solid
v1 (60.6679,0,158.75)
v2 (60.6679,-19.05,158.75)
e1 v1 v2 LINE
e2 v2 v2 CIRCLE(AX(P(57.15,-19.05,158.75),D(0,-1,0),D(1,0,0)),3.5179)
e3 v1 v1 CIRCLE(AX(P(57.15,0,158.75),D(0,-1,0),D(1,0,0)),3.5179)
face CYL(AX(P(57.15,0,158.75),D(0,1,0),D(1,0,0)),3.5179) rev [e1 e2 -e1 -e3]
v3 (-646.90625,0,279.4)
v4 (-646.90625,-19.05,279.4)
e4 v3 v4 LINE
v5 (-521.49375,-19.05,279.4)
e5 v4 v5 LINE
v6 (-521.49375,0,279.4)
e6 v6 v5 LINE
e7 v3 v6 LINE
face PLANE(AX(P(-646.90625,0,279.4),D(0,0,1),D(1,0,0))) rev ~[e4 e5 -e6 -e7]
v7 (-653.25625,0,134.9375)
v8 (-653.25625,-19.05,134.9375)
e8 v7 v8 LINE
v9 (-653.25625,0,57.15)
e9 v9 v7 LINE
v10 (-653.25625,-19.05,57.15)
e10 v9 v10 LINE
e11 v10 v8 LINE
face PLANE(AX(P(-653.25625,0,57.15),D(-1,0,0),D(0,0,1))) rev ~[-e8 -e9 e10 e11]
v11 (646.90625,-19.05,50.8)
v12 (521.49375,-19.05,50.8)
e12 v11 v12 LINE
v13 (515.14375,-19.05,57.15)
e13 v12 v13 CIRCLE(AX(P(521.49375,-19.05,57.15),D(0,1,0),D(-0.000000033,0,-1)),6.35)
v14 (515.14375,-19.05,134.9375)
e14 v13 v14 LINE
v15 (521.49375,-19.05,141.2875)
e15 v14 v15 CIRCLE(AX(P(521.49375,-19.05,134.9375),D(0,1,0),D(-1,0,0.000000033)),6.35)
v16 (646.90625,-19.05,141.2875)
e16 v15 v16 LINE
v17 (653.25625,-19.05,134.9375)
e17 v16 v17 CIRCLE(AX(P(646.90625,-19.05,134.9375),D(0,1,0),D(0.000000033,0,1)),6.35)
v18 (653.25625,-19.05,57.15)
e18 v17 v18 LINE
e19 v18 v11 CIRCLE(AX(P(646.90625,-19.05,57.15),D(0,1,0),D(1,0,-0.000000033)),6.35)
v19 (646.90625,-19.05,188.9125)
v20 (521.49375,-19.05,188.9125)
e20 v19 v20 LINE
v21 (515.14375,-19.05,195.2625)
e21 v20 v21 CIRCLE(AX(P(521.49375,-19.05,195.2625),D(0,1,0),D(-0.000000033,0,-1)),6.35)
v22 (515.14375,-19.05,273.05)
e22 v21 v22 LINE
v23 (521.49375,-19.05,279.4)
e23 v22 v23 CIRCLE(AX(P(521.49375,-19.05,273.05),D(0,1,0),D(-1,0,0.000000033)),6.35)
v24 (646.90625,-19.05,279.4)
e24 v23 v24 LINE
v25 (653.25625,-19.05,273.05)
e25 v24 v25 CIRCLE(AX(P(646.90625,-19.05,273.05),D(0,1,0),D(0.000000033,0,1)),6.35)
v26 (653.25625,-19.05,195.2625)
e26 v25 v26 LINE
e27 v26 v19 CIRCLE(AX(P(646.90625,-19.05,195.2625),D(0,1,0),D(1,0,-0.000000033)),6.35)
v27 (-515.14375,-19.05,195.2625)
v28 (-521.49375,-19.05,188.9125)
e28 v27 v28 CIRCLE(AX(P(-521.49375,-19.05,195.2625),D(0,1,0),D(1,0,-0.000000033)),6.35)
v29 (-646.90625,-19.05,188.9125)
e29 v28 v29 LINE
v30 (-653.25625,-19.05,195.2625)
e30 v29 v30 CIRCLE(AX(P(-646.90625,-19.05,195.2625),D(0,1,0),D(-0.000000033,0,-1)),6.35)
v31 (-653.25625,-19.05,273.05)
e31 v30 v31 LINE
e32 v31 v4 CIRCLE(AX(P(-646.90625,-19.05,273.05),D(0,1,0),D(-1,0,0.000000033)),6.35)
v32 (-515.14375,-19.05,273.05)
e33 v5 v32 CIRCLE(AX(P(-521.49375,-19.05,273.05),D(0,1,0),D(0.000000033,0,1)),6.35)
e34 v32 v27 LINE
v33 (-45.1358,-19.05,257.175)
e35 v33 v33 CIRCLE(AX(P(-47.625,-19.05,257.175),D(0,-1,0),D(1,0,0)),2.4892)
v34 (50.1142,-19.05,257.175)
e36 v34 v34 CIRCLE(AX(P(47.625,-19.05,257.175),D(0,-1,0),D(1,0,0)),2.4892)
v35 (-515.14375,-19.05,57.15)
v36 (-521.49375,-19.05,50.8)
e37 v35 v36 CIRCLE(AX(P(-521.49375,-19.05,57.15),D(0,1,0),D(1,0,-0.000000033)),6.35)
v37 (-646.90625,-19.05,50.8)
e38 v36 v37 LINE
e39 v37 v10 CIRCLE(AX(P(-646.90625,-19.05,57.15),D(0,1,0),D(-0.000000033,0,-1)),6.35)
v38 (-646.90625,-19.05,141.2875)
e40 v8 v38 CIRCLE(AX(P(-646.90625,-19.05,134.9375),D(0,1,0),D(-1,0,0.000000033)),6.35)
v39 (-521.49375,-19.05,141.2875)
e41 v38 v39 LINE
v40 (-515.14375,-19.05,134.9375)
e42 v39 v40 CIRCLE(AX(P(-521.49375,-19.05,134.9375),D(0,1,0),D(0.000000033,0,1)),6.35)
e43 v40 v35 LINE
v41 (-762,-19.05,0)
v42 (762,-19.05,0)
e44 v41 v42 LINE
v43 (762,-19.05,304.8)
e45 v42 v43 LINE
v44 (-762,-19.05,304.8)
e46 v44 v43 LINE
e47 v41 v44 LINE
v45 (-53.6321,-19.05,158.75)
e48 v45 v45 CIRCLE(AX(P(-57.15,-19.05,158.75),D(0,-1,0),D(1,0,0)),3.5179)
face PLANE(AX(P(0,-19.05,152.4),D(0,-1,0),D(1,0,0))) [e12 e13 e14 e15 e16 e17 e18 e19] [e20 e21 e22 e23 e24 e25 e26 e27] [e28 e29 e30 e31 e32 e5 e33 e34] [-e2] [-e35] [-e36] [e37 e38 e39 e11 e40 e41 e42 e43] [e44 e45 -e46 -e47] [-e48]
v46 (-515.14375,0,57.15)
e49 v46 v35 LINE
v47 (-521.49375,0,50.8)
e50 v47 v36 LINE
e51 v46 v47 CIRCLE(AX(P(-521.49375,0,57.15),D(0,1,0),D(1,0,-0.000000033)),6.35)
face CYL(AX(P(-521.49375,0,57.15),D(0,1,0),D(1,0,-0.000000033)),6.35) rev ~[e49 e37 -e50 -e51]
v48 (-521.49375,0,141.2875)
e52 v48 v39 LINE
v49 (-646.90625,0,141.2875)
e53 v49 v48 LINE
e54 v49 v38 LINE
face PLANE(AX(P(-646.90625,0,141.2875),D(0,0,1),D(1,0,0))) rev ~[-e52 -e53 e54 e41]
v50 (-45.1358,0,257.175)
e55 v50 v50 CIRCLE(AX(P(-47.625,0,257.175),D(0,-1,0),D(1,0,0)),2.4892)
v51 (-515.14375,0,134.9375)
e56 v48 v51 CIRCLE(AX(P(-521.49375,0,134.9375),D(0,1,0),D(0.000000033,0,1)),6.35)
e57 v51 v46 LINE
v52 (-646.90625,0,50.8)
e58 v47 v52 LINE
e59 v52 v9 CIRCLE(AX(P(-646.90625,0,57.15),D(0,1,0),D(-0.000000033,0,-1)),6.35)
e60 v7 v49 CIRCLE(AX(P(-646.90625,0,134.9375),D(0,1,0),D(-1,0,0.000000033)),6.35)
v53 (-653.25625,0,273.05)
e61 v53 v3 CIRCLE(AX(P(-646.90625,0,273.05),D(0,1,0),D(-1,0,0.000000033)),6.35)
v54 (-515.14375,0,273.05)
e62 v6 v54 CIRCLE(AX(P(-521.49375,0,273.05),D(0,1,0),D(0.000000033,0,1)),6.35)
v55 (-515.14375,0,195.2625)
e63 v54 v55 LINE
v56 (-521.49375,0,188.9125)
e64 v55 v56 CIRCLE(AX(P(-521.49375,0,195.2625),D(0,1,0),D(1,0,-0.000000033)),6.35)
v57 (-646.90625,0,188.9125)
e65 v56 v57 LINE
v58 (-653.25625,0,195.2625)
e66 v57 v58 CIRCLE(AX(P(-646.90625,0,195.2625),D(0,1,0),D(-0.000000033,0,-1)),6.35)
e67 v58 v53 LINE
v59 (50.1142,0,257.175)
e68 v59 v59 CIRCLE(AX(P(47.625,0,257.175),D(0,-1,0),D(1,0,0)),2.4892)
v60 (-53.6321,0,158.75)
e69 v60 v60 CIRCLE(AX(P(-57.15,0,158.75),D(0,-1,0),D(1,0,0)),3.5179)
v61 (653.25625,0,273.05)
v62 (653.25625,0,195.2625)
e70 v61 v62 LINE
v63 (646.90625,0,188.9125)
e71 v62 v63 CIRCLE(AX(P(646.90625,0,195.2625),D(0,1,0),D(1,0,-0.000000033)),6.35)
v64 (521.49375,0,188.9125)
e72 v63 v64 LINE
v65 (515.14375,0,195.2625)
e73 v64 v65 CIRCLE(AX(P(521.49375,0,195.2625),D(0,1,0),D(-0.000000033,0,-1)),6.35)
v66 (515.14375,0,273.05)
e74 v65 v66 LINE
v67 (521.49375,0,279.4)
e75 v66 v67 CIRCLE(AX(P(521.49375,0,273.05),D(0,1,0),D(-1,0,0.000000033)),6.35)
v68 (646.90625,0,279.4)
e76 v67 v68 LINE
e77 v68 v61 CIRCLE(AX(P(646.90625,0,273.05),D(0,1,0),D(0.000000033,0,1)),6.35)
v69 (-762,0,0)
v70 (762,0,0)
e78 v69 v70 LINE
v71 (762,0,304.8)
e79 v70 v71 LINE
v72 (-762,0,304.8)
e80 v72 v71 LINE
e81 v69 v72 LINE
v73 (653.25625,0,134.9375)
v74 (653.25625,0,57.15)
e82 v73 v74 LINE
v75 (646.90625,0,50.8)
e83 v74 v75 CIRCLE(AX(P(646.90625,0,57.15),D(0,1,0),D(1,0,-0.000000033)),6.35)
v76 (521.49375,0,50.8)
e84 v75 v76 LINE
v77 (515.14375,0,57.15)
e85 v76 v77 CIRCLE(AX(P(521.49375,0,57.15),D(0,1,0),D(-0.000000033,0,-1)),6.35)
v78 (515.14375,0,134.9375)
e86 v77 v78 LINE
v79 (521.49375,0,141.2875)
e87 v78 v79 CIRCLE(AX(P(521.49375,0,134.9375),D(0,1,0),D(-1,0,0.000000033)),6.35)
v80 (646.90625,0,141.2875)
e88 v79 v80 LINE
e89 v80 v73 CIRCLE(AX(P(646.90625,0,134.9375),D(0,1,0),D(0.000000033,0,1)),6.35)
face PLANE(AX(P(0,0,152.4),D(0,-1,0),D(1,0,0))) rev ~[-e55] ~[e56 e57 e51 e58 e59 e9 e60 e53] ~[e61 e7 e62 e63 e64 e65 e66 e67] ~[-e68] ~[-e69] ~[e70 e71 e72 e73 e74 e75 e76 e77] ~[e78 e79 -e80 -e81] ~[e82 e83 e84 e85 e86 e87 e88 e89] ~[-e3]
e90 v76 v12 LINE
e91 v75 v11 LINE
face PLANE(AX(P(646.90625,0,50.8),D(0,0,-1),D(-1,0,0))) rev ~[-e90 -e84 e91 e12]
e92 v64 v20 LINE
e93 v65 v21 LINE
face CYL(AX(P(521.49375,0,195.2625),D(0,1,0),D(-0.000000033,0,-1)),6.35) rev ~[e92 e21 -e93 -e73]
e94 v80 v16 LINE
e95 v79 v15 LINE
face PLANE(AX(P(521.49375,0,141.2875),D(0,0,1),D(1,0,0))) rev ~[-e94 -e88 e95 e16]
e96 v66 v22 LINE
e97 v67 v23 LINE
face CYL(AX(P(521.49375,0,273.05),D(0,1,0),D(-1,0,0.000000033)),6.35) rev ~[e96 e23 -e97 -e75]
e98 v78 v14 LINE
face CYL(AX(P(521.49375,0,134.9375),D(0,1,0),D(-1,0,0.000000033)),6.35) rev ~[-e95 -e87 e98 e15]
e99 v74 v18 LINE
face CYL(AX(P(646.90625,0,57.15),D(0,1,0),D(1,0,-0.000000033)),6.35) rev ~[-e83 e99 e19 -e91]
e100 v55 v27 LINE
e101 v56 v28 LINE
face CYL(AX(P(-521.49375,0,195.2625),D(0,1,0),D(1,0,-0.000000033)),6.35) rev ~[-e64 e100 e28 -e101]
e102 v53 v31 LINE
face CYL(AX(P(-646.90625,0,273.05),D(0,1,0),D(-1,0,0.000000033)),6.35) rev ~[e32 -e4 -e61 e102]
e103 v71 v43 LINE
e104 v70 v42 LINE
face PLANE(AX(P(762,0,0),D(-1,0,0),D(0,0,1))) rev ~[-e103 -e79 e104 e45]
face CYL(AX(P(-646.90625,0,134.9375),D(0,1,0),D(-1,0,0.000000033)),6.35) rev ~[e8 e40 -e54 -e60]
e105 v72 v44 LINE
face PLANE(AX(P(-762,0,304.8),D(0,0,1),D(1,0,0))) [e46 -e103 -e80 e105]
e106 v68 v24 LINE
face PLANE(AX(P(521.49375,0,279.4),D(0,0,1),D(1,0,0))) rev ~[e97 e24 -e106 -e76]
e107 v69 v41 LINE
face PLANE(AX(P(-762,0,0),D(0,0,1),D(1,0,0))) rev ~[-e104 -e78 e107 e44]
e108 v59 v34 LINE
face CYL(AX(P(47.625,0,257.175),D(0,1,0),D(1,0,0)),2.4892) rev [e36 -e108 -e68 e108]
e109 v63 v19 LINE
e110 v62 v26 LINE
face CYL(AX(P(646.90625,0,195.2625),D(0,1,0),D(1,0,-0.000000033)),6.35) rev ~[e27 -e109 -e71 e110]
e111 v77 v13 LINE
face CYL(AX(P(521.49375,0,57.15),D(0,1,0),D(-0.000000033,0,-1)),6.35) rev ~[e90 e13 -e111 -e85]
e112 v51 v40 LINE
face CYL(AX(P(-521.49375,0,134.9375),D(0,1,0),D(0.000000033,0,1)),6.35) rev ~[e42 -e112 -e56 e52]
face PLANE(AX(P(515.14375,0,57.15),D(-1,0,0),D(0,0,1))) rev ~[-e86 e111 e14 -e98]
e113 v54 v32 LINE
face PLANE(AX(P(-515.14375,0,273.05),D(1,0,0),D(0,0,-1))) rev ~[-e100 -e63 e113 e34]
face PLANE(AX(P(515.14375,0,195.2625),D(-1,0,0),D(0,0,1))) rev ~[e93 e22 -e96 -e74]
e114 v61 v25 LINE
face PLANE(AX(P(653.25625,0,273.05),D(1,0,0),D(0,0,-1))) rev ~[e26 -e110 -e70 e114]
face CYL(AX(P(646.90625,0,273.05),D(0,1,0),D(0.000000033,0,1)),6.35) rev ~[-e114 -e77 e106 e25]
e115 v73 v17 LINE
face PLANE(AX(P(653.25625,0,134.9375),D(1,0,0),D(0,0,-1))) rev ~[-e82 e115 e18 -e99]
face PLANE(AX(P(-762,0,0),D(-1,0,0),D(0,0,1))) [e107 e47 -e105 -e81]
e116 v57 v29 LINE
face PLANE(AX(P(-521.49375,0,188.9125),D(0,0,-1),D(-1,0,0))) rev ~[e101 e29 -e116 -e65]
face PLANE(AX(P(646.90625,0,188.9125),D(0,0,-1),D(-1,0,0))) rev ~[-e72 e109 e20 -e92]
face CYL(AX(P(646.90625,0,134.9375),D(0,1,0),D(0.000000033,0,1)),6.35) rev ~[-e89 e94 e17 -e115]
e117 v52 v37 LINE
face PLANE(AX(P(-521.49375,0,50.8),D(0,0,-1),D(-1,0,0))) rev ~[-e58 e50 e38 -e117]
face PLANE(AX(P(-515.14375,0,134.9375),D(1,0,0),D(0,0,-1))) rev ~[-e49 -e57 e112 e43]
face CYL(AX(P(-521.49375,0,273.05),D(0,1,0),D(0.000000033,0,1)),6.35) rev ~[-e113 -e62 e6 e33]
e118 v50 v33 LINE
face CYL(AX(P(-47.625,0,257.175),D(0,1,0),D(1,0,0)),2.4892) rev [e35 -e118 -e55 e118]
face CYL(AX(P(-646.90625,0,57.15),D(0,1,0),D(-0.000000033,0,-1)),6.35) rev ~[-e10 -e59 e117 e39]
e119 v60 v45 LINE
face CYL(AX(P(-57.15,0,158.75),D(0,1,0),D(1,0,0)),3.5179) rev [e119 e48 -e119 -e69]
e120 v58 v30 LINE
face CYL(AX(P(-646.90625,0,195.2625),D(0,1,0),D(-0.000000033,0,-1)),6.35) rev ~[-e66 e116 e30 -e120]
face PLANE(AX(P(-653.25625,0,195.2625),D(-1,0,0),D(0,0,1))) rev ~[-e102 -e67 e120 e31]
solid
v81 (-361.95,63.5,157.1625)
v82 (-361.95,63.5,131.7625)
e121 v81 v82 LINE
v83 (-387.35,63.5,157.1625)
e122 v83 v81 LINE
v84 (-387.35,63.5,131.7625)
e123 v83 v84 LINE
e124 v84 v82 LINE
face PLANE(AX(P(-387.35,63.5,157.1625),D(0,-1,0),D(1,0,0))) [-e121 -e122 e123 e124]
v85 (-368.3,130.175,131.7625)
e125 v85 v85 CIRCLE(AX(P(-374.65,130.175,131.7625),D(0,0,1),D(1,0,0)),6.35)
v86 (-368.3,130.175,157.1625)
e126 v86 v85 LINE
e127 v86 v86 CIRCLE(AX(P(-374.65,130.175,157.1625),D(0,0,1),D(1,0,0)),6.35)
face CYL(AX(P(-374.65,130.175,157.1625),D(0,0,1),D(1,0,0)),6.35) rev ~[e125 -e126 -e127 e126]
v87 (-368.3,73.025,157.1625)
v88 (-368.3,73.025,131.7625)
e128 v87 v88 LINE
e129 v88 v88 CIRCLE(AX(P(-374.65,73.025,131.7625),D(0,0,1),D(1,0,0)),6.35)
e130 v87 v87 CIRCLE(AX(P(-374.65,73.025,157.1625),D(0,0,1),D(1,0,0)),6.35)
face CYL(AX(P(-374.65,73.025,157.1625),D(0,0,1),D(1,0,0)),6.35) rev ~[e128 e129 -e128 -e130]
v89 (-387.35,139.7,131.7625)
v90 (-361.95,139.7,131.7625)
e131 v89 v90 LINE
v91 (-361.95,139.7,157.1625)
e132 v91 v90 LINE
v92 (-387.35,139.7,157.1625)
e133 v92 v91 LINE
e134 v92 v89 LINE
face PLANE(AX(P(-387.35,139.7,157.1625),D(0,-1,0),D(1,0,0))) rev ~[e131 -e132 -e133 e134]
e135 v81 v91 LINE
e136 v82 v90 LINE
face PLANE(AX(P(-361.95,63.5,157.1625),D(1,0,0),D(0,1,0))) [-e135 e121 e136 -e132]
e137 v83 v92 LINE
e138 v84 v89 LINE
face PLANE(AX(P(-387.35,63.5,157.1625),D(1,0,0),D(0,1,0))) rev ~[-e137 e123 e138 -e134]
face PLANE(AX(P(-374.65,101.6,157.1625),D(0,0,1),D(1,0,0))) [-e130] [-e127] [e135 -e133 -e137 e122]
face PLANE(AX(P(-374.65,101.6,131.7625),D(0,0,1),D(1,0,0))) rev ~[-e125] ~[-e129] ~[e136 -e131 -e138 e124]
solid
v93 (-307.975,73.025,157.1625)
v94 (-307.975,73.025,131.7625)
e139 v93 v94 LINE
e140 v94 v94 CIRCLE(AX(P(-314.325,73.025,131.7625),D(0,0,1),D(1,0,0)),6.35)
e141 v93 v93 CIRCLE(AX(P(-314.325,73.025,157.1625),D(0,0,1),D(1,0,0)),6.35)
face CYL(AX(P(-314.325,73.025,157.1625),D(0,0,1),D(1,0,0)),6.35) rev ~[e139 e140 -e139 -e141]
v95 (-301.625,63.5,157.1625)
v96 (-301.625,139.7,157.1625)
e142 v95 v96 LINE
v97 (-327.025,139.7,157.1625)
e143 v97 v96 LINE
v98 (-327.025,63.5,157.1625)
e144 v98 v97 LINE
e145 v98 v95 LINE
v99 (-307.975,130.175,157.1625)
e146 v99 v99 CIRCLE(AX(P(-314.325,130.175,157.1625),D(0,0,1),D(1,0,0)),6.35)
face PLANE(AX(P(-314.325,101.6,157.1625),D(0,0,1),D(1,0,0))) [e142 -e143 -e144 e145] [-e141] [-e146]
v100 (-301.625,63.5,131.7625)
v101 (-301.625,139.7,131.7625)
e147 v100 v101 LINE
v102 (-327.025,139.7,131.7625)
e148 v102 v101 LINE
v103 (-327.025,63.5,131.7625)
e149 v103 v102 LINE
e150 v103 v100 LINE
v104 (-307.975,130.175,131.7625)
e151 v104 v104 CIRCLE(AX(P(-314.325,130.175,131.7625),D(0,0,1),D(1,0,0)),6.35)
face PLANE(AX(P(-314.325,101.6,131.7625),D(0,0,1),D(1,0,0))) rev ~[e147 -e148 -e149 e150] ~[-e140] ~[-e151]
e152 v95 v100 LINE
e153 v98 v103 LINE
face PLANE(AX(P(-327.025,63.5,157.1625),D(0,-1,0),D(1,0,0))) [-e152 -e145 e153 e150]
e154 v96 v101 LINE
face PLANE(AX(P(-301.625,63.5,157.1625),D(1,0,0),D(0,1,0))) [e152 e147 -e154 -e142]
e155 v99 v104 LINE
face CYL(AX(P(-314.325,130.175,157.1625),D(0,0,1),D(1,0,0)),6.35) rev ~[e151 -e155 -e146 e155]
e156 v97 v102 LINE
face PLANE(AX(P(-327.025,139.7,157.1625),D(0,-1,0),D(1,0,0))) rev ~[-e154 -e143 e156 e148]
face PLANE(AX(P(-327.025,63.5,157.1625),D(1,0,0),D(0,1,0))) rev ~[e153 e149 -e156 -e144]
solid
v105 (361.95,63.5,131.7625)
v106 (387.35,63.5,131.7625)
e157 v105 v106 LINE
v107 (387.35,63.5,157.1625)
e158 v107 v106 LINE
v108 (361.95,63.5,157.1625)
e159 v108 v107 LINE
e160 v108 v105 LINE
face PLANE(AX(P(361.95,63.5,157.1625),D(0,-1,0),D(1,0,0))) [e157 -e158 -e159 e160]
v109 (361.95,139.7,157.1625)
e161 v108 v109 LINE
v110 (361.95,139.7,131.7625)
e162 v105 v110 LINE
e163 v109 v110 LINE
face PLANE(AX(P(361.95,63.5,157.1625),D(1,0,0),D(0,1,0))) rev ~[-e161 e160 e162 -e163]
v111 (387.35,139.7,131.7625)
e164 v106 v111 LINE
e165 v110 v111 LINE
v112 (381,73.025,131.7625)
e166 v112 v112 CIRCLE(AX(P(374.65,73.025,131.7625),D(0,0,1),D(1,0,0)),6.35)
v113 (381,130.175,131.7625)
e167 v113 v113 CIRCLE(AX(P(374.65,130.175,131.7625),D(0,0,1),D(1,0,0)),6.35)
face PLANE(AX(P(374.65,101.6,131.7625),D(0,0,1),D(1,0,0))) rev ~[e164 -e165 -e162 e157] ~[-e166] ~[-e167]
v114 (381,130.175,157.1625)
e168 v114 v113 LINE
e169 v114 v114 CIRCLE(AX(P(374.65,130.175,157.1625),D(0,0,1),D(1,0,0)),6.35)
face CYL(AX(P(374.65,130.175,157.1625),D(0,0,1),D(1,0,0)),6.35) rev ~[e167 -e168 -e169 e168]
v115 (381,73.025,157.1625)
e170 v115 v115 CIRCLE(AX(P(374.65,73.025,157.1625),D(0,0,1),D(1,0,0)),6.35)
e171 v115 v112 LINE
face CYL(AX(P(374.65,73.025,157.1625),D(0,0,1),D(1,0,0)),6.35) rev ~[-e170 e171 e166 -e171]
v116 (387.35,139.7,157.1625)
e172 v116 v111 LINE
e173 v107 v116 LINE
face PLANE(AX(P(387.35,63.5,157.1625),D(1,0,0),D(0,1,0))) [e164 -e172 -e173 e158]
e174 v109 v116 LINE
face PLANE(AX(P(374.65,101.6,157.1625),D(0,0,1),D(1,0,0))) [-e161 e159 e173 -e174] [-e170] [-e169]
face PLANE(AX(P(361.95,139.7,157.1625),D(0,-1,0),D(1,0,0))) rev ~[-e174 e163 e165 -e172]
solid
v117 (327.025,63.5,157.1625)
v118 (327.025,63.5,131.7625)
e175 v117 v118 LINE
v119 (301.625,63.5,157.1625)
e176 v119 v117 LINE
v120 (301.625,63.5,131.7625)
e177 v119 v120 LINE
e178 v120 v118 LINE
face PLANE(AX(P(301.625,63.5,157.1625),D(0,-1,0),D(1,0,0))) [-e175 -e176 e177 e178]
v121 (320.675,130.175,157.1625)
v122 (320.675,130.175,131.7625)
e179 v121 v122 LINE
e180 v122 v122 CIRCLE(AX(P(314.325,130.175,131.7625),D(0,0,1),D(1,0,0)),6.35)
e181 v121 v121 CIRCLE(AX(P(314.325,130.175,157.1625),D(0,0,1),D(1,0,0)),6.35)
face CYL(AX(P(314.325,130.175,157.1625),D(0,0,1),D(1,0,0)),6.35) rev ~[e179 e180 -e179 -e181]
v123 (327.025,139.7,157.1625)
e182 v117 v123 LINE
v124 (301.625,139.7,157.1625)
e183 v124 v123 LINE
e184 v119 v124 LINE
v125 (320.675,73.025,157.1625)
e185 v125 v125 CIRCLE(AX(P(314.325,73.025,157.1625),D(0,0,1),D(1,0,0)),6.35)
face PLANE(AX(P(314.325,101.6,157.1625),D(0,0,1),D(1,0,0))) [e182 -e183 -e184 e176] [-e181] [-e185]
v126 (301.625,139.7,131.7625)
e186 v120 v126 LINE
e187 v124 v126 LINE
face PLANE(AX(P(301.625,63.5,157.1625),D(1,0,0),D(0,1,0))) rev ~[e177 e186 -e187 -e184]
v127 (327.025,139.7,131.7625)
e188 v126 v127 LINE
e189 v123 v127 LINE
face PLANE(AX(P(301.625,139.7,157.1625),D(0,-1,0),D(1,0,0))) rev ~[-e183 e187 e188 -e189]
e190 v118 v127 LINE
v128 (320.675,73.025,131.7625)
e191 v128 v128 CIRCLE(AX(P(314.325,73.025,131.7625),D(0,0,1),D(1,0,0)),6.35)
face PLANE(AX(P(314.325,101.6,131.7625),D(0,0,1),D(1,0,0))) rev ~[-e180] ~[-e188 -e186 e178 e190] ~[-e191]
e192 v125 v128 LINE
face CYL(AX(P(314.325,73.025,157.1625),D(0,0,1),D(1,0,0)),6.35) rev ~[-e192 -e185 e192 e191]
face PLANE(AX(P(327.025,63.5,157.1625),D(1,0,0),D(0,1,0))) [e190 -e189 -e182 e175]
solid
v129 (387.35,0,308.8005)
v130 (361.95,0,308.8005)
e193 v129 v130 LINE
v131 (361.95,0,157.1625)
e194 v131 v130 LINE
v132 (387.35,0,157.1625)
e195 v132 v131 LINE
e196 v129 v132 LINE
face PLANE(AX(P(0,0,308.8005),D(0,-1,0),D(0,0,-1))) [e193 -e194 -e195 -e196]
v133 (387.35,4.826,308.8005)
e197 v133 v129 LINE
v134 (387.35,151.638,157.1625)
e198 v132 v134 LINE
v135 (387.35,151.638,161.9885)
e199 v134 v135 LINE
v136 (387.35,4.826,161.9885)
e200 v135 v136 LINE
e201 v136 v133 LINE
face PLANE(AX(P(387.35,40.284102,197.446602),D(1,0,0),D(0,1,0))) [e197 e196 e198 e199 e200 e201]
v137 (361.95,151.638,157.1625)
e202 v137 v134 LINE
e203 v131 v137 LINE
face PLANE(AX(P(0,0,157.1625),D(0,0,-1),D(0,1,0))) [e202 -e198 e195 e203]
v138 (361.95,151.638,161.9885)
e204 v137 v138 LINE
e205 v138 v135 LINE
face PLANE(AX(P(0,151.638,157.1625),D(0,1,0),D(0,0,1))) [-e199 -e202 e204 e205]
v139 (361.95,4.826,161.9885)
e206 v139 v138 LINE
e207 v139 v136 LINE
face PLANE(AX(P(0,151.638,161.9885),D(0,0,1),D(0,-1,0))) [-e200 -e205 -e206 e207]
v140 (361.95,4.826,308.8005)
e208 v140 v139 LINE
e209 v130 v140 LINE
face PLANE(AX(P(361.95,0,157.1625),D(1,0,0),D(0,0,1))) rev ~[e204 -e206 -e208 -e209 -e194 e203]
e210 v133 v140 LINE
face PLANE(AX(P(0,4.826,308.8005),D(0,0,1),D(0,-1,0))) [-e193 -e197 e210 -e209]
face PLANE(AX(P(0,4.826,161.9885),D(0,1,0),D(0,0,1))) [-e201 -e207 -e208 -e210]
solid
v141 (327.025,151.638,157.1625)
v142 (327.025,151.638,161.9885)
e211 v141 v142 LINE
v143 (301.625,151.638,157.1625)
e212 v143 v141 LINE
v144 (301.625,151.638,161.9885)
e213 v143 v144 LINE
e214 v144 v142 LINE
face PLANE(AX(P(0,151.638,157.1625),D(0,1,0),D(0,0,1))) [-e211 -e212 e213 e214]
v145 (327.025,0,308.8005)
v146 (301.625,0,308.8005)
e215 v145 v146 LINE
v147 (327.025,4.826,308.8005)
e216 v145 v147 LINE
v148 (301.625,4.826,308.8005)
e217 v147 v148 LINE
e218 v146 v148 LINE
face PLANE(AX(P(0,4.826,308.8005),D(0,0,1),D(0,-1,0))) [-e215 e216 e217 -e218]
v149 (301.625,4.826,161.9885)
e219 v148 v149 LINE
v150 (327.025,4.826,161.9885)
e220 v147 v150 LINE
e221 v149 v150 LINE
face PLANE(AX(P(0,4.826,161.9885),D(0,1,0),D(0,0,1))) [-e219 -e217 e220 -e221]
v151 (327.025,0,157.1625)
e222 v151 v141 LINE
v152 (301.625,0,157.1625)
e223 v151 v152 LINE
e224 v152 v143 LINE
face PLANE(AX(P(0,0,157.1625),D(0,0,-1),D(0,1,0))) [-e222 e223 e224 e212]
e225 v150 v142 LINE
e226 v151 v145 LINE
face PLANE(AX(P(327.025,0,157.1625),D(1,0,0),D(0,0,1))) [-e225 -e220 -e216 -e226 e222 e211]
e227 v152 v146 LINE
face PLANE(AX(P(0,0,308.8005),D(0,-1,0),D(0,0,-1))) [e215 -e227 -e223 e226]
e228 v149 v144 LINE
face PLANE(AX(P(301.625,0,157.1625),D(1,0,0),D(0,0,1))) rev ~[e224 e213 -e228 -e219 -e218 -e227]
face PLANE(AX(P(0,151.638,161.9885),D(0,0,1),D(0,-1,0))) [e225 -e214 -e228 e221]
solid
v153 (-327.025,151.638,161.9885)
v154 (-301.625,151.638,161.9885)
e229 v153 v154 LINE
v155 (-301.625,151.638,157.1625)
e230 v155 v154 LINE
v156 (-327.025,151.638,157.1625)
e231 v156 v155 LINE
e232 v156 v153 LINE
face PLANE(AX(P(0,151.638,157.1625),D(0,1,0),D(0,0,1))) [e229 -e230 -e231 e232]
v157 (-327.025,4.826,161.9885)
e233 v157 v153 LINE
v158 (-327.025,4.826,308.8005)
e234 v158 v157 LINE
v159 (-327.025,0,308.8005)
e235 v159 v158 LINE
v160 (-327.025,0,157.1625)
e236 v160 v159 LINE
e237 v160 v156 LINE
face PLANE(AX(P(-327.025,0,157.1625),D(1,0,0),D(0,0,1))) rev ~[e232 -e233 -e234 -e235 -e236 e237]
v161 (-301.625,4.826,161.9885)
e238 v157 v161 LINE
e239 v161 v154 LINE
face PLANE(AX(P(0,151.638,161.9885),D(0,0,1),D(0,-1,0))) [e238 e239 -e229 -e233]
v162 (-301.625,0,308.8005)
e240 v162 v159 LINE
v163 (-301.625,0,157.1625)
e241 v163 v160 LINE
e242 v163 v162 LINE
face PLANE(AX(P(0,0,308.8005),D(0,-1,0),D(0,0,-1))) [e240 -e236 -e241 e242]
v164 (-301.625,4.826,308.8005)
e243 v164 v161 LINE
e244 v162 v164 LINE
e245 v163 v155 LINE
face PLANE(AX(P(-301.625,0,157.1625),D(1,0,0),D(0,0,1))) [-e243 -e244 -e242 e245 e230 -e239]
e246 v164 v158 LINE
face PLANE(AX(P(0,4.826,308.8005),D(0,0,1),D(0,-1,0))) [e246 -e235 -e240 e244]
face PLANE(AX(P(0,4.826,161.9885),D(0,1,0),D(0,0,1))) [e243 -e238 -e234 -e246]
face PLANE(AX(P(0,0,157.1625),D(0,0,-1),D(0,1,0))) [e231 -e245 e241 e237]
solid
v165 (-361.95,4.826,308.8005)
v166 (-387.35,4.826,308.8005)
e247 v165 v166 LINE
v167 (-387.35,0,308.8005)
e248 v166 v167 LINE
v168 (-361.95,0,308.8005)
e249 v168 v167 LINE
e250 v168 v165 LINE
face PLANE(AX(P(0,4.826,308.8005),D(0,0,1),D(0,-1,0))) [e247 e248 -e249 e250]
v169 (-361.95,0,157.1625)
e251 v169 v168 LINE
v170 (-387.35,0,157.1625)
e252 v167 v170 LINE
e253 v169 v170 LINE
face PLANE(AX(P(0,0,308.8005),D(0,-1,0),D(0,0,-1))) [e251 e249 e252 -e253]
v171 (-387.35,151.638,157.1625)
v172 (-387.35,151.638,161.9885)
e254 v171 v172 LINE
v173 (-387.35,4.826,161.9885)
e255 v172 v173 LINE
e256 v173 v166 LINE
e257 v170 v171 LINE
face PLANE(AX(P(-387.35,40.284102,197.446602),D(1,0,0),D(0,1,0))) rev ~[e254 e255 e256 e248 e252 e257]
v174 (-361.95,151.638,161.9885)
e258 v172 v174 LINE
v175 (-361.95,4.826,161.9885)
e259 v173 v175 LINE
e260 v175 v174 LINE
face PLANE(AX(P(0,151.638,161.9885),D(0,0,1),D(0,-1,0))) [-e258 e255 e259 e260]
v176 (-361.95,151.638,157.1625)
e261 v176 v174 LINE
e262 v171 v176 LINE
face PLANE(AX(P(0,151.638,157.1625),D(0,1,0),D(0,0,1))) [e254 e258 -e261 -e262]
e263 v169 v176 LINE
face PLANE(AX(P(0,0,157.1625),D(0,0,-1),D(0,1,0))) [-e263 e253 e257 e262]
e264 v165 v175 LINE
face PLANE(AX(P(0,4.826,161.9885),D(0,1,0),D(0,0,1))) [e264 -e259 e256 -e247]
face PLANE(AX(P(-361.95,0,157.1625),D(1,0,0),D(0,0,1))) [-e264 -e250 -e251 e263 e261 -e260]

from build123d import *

# Parameters (mm, degrees)
F0_W     = 1524
F0_H     = 304.8
F0_R     = 3.5179
F0_R_2   = 2.4892
F1_DEPTH = 19.05
F3_W     = 25.4
F3_H     = 76.2
F3_R     = 6.35
F4_DEPTH = 25.4
F6_DEPTH = 387.35
F7_W     = 34.925
F7_H     = 156.405198
F7_W_2   = 603.25
F7_H_2   = 168.995904
F7_H_3   = 172.44594
F8_DEPTH = 151.638


with BuildPart() as f1:
    # F0 (on Front) → F1 (new body)
    with BuildSketch(Plane.XZ):
        with Locations((0, 152.4)):
            Rectangle(F0_W, F0_H)
        with BuildLine():
            ThreePointArc((-653.25625, 134.9375), (-651.396378, 139.427628), (-646.90625, 141.2875))
            Line((-646.90625, 141.2875), (-521.49375, 141.2875))
            ThreePointArc((-521.49375, 141.2875), (-517.003622, 139.427628), (-515.14375, 134.9375))
            Line((-515.14375, 134.9375), (-515.14375, 57.15))
            ThreePointArc((-515.14375, 57.15), (-517.003622, 52.659872), (-521.49375, 50.8))
            Line((-521.49375, 50.8), (-646.90625, 50.8))
            ThreePointArc((-646.90625, 50.8), (-651.396378, 52.659872), (-653.25625, 57.15))
            Line((-653.25625, 57.15), (-653.25625, 134.9375))
        make_face(mode=Mode.SUBTRACT)
        with BuildLine():
            Line((646.90625, 50.8), (521.49375, 50.8))
            ThreePointArc((521.49375, 50.8), (517.003622, 52.659872), (515.14375, 57.15))
            Line((515.14375, 57.15), (515.14375, 134.9375))
            ThreePointArc((515.14375, 134.9375), (517.003622, 139.427628), (521.49375, 141.2875))
            Line((521.49375, 141.2875), (646.90625, 141.2875))
            ThreePointArc((646.90625, 141.2875), (651.396378, 139.427628), (653.25625, 134.9375))
            Line((653.25625, 134.9375), (653.25625, 57.15))
            ThreePointArc((653.25625, 57.15), (651.396378, 52.659872), (646.90625, 50.8))
        make_face(mode=Mode.SUBTRACT)
        with Locations((-57.15, 158.75)):
            Circle(F0_R, mode=Mode.SUBTRACT)
        with BuildLine():
            ThreePointArc((-653.25625, 273.05), (-651.396378, 277.540128), (-646.90625, 279.4))
            Line((-646.90625, 279.4), (-521.49375, 279.4))
            ThreePointArc((-521.49375, 279.4), (-517.003622, 277.540128), (-515.14375, 273.05))
            Line((-515.14375, 273.05), (-515.14375, 195.2625))
            ThreePointArc((-515.14375, 195.2625), (-517.003622, 190.772372), (-521.49375, 188.9125))
            Line((-521.49375, 188.9125), (-646.90625, 188.9125))
            ThreePointArc((-646.90625, 188.9125), (-651.396378, 190.772372), (-653.25625, 195.2625))
            Line((-653.25625, 195.2625), (-653.25625, 273.05))
        make_face(mode=Mode.SUBTRACT)
        with Locations((-47.625, 257.175)):
            Circle(F0_R_2, mode=Mode.SUBTRACT)
        with Locations((57.15, 158.75)):
            Circle(F0_R, mode=Mode.SUBTRACT)
        with Locations((47.625, 257.175)):
            Circle(F0_R_2, mode=Mode.SUBTRACT)
        with BuildLine():
            Line((653.25625, 273.05), (653.25625, 195.2625))
            ThreePointArc((653.25625, 195.2625), (651.396378, 190.772372), (646.90625, 188.9125))
            Line((646.90625, 188.9125), (521.49375, 188.9125))
            ThreePointArc((521.49375, 188.9125), (517.003622, 190.772372), (515.14375, 195.2625))
            Line((515.14375, 195.2625), (515.14375, 273.05))
            ThreePointArc((515.14375, 273.05), (517.003622, 277.540128), (521.49375, 279.4))
            Line((521.49375, 279.4), (646.90625, 279.4))
            ThreePointArc((646.90625, 279.4), (651.396378, 277.540128), (653.25625, 273.05))
        make_face(mode=Mode.SUBTRACT)
    extrude(amount=F1_DEPTH)


with BuildPart() as f4:
    # F3 (on face) → F4 (new body)
    with BuildSketch(Plane.XY.offset(157.1625)):
        with Locations((-374.65, 101.6)):
            Rectangle(F3_W, F3_H)
        with Locations((-374.65, 73.025)):
            Circle(F3_R, mode=Mode.SUBTRACT)
        with Locations((-374.65, 130.175)):
            Circle(F3_R, mode=Mode.SUBTRACT)
        with Locations((-314.325, 101.6)):
            Rectangle(F3_W, F3_H)
        with Locations((-314.325, 73.025)):
            Circle(F3_R, mode=Mode.SUBTRACT)
        with Locations((-314.325, 130.175)):
            Circle(F3_R, mode=Mode.SUBTRACT)
        with Locations((374.65, 101.6)):
            Rectangle(F3_W, F3_H)
        with Locations((374.65, 73.025)):
            Circle(F3_R, mode=Mode.SUBTRACT)
        with Locations((374.65, 130.175)):
            Circle(F3_R, mode=Mode.SUBTRACT)
        with Locations((314.325, 101.6)):
            Rectangle(F3_W, F3_H)
        with Locations((314.325, 73.025)):
            Circle(F3_R, mode=Mode.SUBTRACT)
        with Locations((314.325, 130.175)):
            Circle(F3_R, mode=Mode.SUBTRACT)
    extrude(amount=-F4_DEPTH)


with BuildPart() as f6:
    # F5 (on Right) → F6 (new body, symmetric)
    with BuildSketch(Plane.YZ):
        Polygon((0, 161.9885), (0, 157.1625), (4.826, 157.1625), (151.638, 157.1625), (151.638, 161.9885), (4.826, 161.9885), (4.826, 308.8005), (0, 308.8005), align=None)
    extrude(amount=F6_DEPTH, both=True)

    # F7 (on face) → F8 (cut, through all)
    with BuildSketch(Plane(origin=(0, 0, 0), x_dir=(-1, 0, 0), z_dir=(0, 1, 0))):
        with Locations((344.4875, 235.365099)):
            Rectangle(F7_W, F7_H)
        with Locations((0, 241.660452)):
            Rectangle(F7_W_2, F7_H_2)
        with Locations((-344.4875, 243.38547)):
            Rectangle(F7_W, F7_H_3)
    extrude(amount=F8_DEPTH, mode=Mode.SUBTRACT)


solid = Compound([f1.part, f4.part, f6.part])
